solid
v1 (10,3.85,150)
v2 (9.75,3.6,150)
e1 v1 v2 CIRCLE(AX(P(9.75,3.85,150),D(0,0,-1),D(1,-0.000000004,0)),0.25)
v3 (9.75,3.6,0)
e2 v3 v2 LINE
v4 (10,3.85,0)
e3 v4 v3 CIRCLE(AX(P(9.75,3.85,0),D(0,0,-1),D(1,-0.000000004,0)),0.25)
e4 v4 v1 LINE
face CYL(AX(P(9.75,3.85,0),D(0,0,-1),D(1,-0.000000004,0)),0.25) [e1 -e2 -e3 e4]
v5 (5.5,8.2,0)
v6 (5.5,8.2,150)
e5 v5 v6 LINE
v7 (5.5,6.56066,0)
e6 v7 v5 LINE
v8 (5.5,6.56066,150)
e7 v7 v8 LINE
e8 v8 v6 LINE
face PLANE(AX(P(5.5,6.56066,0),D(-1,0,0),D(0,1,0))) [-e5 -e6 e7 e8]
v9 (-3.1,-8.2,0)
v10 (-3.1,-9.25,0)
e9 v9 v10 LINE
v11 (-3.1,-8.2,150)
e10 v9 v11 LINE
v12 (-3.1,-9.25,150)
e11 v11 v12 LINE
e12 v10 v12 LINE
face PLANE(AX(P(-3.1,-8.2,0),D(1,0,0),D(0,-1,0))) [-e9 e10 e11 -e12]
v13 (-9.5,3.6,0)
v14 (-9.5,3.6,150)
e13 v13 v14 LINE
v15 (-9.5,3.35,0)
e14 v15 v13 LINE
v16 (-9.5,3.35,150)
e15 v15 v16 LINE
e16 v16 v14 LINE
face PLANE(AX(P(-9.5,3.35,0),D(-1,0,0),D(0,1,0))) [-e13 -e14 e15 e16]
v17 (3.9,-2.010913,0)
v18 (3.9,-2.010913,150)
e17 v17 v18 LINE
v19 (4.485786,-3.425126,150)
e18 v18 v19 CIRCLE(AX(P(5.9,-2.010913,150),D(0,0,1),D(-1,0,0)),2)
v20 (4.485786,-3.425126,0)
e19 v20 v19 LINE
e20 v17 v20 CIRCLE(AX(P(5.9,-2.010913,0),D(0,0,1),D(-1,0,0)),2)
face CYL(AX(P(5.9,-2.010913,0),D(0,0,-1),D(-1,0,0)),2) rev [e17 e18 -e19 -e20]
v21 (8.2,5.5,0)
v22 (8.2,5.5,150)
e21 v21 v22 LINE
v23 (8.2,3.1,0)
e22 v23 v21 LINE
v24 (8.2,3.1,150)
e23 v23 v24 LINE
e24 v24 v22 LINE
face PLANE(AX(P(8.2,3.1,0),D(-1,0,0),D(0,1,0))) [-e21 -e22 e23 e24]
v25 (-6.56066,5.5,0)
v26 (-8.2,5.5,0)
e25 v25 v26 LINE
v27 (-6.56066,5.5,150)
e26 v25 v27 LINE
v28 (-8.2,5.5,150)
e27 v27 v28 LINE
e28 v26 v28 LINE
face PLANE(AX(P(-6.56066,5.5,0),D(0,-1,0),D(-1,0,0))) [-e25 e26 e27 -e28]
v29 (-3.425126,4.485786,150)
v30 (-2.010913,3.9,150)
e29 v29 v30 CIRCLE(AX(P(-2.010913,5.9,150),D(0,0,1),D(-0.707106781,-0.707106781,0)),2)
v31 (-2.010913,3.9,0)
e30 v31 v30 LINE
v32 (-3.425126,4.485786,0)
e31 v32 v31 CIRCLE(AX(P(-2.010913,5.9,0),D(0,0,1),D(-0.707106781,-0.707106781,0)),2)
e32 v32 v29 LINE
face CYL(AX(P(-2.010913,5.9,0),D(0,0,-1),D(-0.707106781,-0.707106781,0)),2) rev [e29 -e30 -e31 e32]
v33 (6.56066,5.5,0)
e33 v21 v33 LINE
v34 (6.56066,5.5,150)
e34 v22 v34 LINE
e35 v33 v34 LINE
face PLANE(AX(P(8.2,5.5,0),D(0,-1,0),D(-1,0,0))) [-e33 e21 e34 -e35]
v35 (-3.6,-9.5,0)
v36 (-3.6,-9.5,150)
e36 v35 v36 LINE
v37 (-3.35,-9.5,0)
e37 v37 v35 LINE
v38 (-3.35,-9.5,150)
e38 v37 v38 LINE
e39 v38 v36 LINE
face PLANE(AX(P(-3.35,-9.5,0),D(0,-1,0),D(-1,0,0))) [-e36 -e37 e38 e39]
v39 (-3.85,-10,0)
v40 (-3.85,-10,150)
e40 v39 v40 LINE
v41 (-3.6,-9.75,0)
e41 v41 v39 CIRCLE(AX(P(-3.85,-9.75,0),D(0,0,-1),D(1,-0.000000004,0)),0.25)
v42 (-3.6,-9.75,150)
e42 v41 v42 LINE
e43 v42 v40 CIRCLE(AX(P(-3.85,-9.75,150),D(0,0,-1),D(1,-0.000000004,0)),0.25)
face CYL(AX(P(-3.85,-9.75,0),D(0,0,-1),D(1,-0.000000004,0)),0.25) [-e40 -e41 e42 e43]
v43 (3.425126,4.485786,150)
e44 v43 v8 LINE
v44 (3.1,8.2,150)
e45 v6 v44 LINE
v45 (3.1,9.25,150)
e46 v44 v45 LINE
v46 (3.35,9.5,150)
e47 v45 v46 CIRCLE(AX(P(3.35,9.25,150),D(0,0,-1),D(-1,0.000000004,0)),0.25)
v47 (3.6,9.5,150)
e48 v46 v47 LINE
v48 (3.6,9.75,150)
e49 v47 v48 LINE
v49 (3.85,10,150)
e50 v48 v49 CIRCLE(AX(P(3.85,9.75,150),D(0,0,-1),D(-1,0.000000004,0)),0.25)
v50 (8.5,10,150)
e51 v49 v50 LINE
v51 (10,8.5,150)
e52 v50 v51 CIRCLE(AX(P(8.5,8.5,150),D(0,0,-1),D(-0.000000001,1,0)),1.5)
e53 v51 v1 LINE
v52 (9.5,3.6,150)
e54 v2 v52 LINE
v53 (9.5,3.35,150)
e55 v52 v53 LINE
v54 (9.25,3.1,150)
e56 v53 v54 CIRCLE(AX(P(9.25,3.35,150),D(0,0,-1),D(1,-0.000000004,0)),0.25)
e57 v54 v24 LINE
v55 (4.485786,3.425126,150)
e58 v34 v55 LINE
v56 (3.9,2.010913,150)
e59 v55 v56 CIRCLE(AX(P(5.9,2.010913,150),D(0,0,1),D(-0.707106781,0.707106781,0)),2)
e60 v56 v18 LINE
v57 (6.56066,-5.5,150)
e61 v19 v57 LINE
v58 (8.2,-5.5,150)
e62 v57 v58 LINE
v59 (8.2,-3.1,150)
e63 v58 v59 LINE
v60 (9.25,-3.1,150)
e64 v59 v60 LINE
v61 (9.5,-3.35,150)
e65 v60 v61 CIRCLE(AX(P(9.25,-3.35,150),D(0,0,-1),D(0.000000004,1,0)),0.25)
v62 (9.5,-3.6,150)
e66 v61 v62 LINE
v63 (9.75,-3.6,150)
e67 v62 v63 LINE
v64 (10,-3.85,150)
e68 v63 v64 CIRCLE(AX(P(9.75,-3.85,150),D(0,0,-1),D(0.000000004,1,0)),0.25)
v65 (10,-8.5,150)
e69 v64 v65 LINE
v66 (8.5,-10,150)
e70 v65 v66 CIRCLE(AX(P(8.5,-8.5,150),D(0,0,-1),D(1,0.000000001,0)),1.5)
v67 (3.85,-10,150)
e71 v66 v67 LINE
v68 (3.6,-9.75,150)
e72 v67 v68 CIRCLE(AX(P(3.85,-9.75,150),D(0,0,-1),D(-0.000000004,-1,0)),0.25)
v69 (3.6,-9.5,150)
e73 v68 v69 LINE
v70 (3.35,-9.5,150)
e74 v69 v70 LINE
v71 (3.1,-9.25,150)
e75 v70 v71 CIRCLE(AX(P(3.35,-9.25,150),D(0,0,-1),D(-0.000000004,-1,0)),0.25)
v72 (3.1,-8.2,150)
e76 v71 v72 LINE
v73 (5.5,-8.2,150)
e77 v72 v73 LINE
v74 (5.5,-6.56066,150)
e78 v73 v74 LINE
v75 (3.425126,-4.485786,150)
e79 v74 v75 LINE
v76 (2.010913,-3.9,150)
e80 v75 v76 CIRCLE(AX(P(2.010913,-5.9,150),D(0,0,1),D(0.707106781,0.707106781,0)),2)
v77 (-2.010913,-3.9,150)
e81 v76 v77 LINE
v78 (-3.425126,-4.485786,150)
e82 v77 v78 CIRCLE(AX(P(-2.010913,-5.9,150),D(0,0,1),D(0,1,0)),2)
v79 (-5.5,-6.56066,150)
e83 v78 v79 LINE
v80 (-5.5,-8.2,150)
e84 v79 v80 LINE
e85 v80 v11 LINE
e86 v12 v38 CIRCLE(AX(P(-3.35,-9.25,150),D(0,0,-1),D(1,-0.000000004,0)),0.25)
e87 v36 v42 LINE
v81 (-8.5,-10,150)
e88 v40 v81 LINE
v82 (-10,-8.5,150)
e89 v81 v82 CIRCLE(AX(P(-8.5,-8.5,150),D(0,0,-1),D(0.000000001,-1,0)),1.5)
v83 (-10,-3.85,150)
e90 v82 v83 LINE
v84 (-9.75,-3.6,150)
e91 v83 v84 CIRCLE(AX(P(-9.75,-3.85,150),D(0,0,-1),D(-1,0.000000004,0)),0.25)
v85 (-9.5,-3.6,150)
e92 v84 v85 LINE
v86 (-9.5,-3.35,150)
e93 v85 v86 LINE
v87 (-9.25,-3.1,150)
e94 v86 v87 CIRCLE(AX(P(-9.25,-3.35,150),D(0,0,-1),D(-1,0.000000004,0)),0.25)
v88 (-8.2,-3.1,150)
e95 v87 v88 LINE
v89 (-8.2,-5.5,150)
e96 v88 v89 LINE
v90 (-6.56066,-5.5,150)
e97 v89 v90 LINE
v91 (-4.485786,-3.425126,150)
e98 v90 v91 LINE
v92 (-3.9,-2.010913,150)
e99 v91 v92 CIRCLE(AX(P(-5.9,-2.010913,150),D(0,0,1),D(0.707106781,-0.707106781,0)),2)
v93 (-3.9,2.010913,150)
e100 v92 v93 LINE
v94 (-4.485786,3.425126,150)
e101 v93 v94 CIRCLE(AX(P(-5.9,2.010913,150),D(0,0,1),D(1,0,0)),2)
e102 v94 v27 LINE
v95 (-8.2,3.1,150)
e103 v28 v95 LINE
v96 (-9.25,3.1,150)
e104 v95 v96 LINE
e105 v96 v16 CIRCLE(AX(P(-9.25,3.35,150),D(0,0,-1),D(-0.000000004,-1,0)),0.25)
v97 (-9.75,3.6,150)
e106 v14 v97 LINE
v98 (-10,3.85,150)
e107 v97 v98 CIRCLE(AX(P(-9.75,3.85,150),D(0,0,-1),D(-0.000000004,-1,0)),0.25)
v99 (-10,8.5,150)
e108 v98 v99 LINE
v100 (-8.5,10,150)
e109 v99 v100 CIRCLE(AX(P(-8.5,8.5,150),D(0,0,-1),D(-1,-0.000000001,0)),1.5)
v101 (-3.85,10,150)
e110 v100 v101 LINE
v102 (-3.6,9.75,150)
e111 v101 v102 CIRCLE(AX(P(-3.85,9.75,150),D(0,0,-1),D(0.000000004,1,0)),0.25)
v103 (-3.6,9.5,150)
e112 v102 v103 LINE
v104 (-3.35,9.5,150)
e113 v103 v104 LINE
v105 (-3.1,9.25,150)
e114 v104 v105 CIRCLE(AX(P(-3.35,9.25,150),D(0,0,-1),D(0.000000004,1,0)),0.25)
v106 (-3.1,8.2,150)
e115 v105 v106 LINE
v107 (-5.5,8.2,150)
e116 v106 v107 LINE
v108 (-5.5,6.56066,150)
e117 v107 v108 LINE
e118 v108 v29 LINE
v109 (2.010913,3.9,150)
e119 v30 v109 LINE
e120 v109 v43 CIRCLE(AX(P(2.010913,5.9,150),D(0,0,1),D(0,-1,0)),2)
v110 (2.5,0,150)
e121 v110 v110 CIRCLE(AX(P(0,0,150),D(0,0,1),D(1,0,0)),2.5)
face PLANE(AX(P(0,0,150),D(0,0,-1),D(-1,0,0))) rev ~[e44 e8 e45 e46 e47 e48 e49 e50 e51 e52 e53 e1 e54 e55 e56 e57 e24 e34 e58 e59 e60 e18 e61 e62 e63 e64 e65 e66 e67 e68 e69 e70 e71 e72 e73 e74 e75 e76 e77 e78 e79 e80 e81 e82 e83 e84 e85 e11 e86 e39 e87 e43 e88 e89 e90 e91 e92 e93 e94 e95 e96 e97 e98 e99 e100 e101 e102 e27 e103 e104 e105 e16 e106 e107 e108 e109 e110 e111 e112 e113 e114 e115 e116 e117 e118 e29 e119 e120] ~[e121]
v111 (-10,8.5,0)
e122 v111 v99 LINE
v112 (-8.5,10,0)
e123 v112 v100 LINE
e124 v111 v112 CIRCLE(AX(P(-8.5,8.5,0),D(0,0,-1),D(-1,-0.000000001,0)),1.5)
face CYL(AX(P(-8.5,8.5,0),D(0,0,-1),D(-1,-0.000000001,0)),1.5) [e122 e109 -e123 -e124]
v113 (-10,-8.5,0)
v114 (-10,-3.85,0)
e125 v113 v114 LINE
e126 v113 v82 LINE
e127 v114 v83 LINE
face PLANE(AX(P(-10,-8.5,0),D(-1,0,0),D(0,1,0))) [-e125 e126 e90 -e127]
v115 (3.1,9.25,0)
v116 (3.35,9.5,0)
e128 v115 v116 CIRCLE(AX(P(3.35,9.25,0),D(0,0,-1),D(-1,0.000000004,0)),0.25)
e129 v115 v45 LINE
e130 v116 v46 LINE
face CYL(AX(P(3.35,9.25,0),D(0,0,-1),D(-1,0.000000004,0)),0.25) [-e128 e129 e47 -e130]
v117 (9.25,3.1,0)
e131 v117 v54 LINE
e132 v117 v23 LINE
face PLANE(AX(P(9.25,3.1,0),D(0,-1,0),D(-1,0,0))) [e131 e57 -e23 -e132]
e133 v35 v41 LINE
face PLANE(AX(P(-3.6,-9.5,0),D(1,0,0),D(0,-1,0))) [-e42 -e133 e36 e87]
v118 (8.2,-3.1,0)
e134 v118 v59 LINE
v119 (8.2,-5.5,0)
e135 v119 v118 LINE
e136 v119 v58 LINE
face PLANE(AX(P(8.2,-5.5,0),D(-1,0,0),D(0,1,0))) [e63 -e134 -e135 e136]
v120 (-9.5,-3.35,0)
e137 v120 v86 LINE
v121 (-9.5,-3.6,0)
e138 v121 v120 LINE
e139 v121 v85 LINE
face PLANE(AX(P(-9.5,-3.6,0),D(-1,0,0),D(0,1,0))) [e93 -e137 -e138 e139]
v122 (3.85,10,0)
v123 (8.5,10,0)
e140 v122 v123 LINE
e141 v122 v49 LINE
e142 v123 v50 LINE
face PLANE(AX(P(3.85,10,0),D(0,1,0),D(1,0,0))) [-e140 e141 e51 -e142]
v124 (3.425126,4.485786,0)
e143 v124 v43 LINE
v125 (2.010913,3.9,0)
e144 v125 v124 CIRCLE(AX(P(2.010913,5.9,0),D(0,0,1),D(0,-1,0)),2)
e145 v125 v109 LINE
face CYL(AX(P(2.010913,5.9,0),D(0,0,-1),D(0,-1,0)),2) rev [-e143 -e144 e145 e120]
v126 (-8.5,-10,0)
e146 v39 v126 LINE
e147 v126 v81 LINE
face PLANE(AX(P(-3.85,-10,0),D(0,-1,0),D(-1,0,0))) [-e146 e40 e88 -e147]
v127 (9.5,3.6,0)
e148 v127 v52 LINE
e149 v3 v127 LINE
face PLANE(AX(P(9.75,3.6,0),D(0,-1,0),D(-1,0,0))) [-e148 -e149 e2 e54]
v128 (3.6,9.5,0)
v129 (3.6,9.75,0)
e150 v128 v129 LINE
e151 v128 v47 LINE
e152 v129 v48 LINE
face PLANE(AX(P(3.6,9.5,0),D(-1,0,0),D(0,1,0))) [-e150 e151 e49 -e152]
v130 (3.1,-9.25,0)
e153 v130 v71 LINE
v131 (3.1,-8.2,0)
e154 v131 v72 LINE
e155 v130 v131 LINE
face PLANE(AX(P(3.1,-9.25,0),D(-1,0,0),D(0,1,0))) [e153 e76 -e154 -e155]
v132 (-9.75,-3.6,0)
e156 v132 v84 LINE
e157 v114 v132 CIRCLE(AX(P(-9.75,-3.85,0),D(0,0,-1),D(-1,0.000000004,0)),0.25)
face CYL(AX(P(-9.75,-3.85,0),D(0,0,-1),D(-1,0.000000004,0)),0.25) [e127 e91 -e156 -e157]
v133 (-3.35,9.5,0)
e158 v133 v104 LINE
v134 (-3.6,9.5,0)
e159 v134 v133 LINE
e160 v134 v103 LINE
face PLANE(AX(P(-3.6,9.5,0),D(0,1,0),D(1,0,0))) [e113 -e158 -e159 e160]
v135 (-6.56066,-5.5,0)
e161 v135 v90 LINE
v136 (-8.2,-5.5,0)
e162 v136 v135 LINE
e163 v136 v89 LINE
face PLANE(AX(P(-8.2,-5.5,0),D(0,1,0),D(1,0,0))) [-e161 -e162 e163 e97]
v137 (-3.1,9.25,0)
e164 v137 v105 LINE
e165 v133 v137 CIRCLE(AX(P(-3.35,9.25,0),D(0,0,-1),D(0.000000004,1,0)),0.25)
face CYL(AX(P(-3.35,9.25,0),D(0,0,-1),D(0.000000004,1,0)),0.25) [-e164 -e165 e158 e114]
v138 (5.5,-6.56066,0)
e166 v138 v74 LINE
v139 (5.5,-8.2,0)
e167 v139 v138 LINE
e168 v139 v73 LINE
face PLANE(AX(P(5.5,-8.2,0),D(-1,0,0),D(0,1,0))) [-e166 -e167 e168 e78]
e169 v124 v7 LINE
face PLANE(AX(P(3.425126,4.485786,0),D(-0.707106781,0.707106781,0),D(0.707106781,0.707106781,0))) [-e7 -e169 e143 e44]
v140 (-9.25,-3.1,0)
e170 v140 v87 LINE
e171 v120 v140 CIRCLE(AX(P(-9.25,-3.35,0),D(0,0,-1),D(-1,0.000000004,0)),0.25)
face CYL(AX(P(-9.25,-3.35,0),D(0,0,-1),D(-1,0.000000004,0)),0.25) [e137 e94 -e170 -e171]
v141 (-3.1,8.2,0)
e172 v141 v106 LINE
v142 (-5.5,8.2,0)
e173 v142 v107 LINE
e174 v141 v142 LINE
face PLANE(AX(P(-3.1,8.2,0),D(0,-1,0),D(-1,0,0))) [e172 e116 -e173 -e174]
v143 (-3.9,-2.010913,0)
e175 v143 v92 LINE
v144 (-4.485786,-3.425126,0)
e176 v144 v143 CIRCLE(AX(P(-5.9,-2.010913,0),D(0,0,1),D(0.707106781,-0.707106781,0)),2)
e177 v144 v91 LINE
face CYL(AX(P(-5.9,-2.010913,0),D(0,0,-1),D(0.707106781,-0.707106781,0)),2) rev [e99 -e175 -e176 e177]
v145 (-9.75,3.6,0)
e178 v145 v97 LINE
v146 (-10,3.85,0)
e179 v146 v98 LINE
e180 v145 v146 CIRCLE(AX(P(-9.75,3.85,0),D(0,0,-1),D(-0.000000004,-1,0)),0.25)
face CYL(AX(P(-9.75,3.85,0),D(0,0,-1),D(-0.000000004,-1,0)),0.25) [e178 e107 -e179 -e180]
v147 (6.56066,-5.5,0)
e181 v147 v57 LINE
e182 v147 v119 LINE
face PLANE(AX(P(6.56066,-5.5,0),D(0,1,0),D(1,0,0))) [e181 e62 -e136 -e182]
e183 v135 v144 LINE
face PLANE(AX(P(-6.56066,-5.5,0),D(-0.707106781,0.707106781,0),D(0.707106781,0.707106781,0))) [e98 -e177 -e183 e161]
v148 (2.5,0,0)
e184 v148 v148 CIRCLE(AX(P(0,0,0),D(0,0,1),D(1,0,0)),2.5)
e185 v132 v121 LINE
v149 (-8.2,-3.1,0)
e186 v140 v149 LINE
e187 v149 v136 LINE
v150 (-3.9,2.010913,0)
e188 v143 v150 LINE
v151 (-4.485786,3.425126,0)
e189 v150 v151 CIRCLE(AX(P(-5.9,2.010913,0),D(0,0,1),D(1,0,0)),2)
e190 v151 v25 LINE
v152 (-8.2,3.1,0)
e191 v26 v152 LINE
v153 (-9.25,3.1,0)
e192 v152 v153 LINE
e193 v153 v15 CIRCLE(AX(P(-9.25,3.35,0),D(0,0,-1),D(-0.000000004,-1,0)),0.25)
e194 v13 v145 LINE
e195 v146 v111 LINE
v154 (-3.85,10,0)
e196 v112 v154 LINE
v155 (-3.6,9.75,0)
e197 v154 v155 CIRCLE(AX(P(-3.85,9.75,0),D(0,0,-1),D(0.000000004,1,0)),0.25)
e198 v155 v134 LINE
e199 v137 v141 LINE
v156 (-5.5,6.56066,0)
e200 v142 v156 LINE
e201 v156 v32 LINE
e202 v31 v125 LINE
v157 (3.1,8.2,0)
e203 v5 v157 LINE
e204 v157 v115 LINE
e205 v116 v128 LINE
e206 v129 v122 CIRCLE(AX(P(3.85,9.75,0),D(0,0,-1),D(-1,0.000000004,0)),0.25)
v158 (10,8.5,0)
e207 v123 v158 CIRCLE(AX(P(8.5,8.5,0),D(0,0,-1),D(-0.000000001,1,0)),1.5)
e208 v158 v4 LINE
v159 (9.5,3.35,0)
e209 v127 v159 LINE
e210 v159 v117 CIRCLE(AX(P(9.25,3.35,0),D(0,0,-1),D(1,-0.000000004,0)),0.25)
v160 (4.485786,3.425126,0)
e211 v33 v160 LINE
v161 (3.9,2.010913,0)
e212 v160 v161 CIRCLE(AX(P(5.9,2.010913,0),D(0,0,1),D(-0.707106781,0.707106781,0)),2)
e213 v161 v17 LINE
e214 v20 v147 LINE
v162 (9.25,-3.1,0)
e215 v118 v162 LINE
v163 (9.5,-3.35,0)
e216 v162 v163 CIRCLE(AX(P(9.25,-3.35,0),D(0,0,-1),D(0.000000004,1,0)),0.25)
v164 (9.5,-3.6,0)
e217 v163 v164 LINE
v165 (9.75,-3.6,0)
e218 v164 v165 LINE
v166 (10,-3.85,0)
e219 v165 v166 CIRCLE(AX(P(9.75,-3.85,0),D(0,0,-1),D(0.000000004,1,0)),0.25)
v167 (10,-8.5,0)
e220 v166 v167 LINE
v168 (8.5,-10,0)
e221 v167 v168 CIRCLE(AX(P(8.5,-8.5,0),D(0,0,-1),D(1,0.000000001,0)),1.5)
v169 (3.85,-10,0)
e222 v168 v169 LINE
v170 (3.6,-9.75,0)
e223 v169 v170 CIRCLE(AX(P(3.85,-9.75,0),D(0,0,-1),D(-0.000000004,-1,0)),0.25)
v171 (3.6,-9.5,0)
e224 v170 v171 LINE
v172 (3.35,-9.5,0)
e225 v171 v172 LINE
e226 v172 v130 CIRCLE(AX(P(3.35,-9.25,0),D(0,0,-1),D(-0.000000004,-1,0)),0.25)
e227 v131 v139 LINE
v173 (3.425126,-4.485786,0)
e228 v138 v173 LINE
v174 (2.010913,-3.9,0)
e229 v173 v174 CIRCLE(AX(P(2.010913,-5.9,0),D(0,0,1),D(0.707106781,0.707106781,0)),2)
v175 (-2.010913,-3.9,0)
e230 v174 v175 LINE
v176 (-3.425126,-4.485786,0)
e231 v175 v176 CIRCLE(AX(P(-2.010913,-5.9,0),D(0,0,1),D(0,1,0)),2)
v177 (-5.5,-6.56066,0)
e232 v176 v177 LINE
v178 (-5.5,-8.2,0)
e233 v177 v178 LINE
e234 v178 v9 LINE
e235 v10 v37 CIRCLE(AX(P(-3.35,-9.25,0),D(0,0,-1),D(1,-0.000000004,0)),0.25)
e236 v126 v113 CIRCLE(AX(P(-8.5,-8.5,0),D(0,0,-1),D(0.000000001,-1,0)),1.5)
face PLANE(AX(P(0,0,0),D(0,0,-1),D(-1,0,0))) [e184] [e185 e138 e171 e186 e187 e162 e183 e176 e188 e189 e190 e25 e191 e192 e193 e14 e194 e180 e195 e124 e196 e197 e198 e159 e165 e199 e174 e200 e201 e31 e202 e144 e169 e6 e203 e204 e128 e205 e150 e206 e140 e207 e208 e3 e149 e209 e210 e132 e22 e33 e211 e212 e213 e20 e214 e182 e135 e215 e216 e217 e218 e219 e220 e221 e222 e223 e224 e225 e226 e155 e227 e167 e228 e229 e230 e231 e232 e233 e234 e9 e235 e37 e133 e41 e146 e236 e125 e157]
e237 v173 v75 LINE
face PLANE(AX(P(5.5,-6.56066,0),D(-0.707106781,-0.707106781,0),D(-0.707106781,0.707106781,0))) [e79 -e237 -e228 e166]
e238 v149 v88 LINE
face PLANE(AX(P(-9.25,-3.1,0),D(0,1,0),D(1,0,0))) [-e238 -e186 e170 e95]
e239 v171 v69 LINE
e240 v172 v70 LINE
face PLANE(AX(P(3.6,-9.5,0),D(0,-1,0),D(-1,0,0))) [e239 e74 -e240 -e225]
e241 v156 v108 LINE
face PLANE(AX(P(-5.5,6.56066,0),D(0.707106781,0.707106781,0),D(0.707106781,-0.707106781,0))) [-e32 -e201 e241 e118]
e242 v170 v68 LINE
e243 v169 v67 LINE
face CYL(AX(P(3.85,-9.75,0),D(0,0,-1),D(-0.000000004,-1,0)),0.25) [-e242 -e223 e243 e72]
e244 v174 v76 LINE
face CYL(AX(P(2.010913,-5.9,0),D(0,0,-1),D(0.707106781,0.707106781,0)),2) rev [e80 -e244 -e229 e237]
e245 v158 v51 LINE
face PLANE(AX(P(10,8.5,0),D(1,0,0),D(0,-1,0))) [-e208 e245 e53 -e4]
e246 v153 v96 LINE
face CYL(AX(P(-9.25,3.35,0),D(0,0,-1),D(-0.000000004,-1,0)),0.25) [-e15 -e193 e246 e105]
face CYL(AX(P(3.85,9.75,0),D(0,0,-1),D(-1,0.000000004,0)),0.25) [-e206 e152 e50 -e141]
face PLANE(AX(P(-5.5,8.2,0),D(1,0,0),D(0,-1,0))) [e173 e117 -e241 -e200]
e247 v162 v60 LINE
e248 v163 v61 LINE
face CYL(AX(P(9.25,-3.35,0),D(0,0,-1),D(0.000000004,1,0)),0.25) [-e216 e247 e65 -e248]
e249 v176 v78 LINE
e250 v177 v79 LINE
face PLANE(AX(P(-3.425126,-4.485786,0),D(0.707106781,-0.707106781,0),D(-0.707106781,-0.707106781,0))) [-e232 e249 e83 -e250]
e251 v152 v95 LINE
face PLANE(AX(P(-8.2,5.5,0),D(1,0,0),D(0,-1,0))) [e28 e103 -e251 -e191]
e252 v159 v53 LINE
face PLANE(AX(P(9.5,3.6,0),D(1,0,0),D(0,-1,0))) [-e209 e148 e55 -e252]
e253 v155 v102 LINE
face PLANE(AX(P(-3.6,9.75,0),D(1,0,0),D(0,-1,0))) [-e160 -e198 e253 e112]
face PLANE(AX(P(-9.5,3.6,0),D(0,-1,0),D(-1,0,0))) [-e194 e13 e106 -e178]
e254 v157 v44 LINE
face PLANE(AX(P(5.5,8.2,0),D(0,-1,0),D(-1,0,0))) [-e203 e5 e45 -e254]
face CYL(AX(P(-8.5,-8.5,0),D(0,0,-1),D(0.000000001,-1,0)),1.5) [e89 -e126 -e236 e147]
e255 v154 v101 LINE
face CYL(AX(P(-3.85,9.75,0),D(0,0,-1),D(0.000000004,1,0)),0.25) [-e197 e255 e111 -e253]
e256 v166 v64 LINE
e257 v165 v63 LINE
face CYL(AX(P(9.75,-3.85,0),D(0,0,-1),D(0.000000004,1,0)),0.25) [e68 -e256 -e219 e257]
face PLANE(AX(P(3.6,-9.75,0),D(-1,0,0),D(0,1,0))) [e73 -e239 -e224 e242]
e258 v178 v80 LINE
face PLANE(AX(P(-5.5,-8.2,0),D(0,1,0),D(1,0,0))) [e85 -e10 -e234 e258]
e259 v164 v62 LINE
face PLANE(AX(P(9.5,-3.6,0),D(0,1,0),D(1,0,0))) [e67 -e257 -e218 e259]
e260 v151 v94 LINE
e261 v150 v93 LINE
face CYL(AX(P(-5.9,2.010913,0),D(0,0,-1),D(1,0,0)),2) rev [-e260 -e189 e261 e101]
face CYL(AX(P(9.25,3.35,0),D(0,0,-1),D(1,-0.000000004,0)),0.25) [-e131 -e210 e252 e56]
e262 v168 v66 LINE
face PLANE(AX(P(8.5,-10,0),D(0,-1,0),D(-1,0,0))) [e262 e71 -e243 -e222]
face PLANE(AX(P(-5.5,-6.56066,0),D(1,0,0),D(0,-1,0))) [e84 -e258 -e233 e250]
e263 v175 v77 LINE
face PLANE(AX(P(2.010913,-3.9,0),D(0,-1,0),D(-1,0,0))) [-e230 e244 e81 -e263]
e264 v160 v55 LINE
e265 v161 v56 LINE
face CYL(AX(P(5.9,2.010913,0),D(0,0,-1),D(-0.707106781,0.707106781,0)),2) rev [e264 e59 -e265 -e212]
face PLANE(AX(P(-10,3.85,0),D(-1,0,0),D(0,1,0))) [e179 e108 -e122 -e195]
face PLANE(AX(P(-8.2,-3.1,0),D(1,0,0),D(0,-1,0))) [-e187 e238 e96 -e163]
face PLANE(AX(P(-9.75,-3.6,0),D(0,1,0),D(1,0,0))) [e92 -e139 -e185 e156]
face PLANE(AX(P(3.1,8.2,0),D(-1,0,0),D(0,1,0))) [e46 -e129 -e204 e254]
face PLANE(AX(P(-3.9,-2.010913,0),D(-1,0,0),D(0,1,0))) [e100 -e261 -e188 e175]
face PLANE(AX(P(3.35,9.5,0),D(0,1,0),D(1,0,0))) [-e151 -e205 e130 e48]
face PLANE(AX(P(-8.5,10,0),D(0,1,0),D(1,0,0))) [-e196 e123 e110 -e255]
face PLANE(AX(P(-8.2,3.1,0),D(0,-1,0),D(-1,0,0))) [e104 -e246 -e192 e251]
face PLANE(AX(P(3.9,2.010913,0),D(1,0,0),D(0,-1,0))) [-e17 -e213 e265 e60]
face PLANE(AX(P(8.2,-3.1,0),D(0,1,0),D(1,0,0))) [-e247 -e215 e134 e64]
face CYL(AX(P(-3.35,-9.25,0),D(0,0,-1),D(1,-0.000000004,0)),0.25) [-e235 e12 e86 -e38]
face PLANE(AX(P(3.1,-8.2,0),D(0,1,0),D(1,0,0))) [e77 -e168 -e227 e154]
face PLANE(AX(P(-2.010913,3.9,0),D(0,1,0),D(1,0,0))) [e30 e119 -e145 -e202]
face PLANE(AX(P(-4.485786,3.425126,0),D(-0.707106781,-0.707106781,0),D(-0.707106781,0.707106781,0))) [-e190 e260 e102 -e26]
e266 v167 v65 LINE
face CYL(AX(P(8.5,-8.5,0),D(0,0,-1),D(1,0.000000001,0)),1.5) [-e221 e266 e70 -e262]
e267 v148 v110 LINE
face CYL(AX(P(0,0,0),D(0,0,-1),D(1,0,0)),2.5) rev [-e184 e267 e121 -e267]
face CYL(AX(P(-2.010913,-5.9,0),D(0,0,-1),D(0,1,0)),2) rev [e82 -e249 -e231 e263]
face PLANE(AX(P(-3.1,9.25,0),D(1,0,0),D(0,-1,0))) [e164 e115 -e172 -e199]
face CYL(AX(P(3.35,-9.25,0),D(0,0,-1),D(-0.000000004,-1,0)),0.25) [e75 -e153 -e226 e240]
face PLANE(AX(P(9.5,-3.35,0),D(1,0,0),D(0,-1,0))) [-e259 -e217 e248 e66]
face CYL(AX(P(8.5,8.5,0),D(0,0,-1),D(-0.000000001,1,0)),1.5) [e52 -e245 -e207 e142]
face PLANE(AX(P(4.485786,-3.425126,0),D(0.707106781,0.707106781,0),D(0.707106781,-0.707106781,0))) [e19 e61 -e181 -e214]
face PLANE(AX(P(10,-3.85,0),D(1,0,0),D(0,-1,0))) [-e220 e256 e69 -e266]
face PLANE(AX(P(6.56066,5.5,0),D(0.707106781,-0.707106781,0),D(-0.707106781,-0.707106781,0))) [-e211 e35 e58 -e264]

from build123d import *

# Parameters (mm, degrees)
SKETCH1_R           = 2.5
BOSS_EXTRUDE1_DEPTH = 150


with BuildPart() as part:
    # Sketch1 → Boss-Extrude1 (new body)
    with BuildSketch(Plane.XY):
        with BuildLine():
            Line((-8.5, 10), (-3.85, 10))
            ThreePointArc((-3.85, 10), (-3.673223305, 9.926776695), (-3.6, 9.75))
            Line((-3.6, 9.75), (-3.6, 9.5))
            Line((-3.6, 9.5), (-3.35, 9.5))
            ThreePointArc((-3.35, 9.5), (-3.173223305, 9.426776695), (-3.1, 9.25))
            Line((-3.1, 9.25), (-3.1, 8.2))
            Line((-3.1, 8.2), (-5.5, 8.2))
            Line((-5.5, 8.2), (-5.5, 6.560660172))
            Line((-5.5, 6.560660172), (-3.425126266, 4.485786438))
            ThreePointArc((-3.425126266, 4.485786438), (-2.776279568, 4.052240935), (-2.010912703, 3.9))
            Line((-2.010912703, 3.9), (2.010912703, 3.9))
            ThreePointArc((2.010912703, 3.9), (2.776279568, 4.052240935), (3.425126266, 4.485786438))
            Line((3.425126266, 4.485786438), (5.5, 6.560660172))
            Line((5.5, 6.560660172), (5.5, 8.2))
            Line((5.5, 8.2), (3.1, 8.2))
            Line((3.1, 8.2), (3.1, 9.25))
            ThreePointArc((3.1, 9.25), (3.173223305, 9.426776695), (3.35, 9.5))
            Line((3.35, 9.5), (3.6, 9.5))
            Line((3.6, 9.5), (3.6, 9.75))
            ThreePointArc((3.6, 9.75), (3.673223305, 9.926776695), (3.85, 10))
            Line((3.85, 10), (8.5, 10))
            ThreePointArc((8.5, 10), (9.560660172, 9.560660172), (10, 8.5))
            Line((10, 8.5), (10, 3.85))
            ThreePointArc((10, 3.85), (9.926776695, 3.673223305), (9.75, 3.6))
            Line((9.75, 3.6), (9.5, 3.6))
            Line((9.5, 3.6), (9.5, 3.35))
            ThreePointArc((9.5, 3.35), (9.426776695, 3.173223305), (9.25, 3.1))
            Line((9.25, 3.1), (8.2, 3.1))
            Line((8.2, 3.1), (8.2, 5.5))
            Line((8.2, 5.5), (6.560660172, 5.5))
            Line((6.560660172, 5.5), (4.485786438, 3.425126266))
            ThreePointArc((4.485786438, 3.425126266), (4.052240935, 2.776279568), (3.9, 2.010912703))
            Line((3.9, 2.010912703), (3.9, -2.010912703))
            ThreePointArc((3.9, -2.010912703), (4.052240935, -2.776279568), (4.485786438, -3.425126266))
            Line((4.485786438, -3.425126266), (6.560660172, -5.5))
            Line((6.560660172, -5.5), (8.2, -5.5))
            Line((8.2, -5.5), (8.2, -3.1))
            Line((8.2, -3.1), (9.25, -3.1))
            ThreePointArc((9.25, -3.1), (9.426776695, -3.173223305), (9.5, -3.35))
            Line((9.5, -3.35), (9.5, -3.6))
            Line((9.5, -3.6), (9.75, -3.6))
            ThreePointArc((9.75, -3.6), (9.926776695, -3.673223305), (10, -3.85))
            Line((10, -3.85), (10, -8.5))
            ThreePointArc((10, -8.5), (9.560660172, -9.560660172), (8.5, -10))
            Line((8.5, -10), (3.85, -10))
            ThreePointArc((3.85, -10), (3.673223305, -9.926776695), (3.6, -9.75))
            Line((3.6, -9.75), (3.6, -9.5))
            Line((3.6, -9.5), (3.35, -9.5))
            ThreePointArc((3.35, -9.5), (3.173223305, -9.426776695), (3.1, -9.25))
            Line((3.1, -9.25), (3.1, -8.2))
            Line((3.1, -8.2), (5.5, -8.2))
            Line((5.5, -8.2), (5.5, -6.560660172))
            Line((5.5, -6.560660172), (3.425126266, -4.485786438))
            ThreePointArc((3.425126266, -4.485786438), (2.776279568, -4.052240935), (2.010912703, -3.9))
            Line((2.010912703, -3.9), (-2.010912703, -3.9))
            ThreePointArc((-2.010912703, -3.9), (-2.776279568, -4.052240935), (-3.425126266, -4.485786438))
            Line((-3.425126266, -4.485786438), (-5.5, -6.560660172))
            Line((-5.5, -6.560660172), (-5.5, -8.2))
            Line((-5.5, -8.2), (-3.1, -8.2))
            Line((-3.1, -8.2), (-3.1, -9.25))
            ThreePointArc((-3.1, -9.25), (-3.173223305, -9.426776695), (-3.35, -9.5))
            Line((-3.35, -9.5), (-3.6, -9.5))
            Line((-3.6, -9.5), (-3.6, -9.75))
            ThreePointArc((-3.6, -9.75), (-3.673223305, -9.926776695), (-3.85, -10))
            Line((-3.85, -10), (-8.5, -10))
            ThreePointArc((-8.5, -10), (-9.560660172, -9.560660172), (-10, -8.5))
            Line((-10, -8.5), (-10, -3.85))
            ThreePointArc((-10, -3.85), (-9.926776695, -3.673223305), (-9.75, -3.6))
            Line((-9.75, -3.6), (-9.5, -3.6))
            Line((-9.5, -3.6), (-9.5, -3.35))
            ThreePointArc((-9.5, -3.35), (-9.426776695, -3.173223305), (-9.25, -3.1))
            Line((-9.25, -3.1), (-8.2, -3.1))
            Line((-8.2, -3.1), (-8.2, -5.5))
            Line((-8.2, -5.5), (-6.560660172, -5.5))
            Line((-6.560660172, -5.5), (-4.485786438, -3.425126266))
            ThreePointArc((-4.485786438, -3.425126266), (-4.052240935, -2.776279568), (-3.9, -2.010912703))
            Line((-3.9, -2.010912703), (-3.9, 2.010912703))
            ThreePointArc((-3.9, 2.010912703), (-4.052240935, 2.776279568), (-4.485786438, 3.425126266))
            Line((-4.485786438, 3.425126266), (-6.560660172, 5.5))
            Line((-6.560660172, 5.5), (-8.2, 5.5))
            Line((-8.2, 5.5), (-8.2, 3.1))
            Line((-8.2, 3.1), (-9.25, 3.1))
            ThreePointArc((-9.25, 3.1), (-9.426776695, 3.173223305), (-9.5, 3.35))
            Line((-9.5, 3.35), (-9.5, 3.6))
            Line((-9.5, 3.6), (-9.75, 3.6))
            ThreePointArc((-9.75, 3.6), (-9.926776695, 3.673223305), (-10, 3.85))
            Line((-10, 3.85), (-10, 8.5))
            ThreePointArc((-10, 8.5), (-9.560660172, 9.560660172), (-8.5, 10))
        make_face()
        Circle(SKETCH1_R, mode=Mode.SUBTRACT)
    extrude(amount=BOSS_EXTRUDE1_DEPTH)


solid = part.part
